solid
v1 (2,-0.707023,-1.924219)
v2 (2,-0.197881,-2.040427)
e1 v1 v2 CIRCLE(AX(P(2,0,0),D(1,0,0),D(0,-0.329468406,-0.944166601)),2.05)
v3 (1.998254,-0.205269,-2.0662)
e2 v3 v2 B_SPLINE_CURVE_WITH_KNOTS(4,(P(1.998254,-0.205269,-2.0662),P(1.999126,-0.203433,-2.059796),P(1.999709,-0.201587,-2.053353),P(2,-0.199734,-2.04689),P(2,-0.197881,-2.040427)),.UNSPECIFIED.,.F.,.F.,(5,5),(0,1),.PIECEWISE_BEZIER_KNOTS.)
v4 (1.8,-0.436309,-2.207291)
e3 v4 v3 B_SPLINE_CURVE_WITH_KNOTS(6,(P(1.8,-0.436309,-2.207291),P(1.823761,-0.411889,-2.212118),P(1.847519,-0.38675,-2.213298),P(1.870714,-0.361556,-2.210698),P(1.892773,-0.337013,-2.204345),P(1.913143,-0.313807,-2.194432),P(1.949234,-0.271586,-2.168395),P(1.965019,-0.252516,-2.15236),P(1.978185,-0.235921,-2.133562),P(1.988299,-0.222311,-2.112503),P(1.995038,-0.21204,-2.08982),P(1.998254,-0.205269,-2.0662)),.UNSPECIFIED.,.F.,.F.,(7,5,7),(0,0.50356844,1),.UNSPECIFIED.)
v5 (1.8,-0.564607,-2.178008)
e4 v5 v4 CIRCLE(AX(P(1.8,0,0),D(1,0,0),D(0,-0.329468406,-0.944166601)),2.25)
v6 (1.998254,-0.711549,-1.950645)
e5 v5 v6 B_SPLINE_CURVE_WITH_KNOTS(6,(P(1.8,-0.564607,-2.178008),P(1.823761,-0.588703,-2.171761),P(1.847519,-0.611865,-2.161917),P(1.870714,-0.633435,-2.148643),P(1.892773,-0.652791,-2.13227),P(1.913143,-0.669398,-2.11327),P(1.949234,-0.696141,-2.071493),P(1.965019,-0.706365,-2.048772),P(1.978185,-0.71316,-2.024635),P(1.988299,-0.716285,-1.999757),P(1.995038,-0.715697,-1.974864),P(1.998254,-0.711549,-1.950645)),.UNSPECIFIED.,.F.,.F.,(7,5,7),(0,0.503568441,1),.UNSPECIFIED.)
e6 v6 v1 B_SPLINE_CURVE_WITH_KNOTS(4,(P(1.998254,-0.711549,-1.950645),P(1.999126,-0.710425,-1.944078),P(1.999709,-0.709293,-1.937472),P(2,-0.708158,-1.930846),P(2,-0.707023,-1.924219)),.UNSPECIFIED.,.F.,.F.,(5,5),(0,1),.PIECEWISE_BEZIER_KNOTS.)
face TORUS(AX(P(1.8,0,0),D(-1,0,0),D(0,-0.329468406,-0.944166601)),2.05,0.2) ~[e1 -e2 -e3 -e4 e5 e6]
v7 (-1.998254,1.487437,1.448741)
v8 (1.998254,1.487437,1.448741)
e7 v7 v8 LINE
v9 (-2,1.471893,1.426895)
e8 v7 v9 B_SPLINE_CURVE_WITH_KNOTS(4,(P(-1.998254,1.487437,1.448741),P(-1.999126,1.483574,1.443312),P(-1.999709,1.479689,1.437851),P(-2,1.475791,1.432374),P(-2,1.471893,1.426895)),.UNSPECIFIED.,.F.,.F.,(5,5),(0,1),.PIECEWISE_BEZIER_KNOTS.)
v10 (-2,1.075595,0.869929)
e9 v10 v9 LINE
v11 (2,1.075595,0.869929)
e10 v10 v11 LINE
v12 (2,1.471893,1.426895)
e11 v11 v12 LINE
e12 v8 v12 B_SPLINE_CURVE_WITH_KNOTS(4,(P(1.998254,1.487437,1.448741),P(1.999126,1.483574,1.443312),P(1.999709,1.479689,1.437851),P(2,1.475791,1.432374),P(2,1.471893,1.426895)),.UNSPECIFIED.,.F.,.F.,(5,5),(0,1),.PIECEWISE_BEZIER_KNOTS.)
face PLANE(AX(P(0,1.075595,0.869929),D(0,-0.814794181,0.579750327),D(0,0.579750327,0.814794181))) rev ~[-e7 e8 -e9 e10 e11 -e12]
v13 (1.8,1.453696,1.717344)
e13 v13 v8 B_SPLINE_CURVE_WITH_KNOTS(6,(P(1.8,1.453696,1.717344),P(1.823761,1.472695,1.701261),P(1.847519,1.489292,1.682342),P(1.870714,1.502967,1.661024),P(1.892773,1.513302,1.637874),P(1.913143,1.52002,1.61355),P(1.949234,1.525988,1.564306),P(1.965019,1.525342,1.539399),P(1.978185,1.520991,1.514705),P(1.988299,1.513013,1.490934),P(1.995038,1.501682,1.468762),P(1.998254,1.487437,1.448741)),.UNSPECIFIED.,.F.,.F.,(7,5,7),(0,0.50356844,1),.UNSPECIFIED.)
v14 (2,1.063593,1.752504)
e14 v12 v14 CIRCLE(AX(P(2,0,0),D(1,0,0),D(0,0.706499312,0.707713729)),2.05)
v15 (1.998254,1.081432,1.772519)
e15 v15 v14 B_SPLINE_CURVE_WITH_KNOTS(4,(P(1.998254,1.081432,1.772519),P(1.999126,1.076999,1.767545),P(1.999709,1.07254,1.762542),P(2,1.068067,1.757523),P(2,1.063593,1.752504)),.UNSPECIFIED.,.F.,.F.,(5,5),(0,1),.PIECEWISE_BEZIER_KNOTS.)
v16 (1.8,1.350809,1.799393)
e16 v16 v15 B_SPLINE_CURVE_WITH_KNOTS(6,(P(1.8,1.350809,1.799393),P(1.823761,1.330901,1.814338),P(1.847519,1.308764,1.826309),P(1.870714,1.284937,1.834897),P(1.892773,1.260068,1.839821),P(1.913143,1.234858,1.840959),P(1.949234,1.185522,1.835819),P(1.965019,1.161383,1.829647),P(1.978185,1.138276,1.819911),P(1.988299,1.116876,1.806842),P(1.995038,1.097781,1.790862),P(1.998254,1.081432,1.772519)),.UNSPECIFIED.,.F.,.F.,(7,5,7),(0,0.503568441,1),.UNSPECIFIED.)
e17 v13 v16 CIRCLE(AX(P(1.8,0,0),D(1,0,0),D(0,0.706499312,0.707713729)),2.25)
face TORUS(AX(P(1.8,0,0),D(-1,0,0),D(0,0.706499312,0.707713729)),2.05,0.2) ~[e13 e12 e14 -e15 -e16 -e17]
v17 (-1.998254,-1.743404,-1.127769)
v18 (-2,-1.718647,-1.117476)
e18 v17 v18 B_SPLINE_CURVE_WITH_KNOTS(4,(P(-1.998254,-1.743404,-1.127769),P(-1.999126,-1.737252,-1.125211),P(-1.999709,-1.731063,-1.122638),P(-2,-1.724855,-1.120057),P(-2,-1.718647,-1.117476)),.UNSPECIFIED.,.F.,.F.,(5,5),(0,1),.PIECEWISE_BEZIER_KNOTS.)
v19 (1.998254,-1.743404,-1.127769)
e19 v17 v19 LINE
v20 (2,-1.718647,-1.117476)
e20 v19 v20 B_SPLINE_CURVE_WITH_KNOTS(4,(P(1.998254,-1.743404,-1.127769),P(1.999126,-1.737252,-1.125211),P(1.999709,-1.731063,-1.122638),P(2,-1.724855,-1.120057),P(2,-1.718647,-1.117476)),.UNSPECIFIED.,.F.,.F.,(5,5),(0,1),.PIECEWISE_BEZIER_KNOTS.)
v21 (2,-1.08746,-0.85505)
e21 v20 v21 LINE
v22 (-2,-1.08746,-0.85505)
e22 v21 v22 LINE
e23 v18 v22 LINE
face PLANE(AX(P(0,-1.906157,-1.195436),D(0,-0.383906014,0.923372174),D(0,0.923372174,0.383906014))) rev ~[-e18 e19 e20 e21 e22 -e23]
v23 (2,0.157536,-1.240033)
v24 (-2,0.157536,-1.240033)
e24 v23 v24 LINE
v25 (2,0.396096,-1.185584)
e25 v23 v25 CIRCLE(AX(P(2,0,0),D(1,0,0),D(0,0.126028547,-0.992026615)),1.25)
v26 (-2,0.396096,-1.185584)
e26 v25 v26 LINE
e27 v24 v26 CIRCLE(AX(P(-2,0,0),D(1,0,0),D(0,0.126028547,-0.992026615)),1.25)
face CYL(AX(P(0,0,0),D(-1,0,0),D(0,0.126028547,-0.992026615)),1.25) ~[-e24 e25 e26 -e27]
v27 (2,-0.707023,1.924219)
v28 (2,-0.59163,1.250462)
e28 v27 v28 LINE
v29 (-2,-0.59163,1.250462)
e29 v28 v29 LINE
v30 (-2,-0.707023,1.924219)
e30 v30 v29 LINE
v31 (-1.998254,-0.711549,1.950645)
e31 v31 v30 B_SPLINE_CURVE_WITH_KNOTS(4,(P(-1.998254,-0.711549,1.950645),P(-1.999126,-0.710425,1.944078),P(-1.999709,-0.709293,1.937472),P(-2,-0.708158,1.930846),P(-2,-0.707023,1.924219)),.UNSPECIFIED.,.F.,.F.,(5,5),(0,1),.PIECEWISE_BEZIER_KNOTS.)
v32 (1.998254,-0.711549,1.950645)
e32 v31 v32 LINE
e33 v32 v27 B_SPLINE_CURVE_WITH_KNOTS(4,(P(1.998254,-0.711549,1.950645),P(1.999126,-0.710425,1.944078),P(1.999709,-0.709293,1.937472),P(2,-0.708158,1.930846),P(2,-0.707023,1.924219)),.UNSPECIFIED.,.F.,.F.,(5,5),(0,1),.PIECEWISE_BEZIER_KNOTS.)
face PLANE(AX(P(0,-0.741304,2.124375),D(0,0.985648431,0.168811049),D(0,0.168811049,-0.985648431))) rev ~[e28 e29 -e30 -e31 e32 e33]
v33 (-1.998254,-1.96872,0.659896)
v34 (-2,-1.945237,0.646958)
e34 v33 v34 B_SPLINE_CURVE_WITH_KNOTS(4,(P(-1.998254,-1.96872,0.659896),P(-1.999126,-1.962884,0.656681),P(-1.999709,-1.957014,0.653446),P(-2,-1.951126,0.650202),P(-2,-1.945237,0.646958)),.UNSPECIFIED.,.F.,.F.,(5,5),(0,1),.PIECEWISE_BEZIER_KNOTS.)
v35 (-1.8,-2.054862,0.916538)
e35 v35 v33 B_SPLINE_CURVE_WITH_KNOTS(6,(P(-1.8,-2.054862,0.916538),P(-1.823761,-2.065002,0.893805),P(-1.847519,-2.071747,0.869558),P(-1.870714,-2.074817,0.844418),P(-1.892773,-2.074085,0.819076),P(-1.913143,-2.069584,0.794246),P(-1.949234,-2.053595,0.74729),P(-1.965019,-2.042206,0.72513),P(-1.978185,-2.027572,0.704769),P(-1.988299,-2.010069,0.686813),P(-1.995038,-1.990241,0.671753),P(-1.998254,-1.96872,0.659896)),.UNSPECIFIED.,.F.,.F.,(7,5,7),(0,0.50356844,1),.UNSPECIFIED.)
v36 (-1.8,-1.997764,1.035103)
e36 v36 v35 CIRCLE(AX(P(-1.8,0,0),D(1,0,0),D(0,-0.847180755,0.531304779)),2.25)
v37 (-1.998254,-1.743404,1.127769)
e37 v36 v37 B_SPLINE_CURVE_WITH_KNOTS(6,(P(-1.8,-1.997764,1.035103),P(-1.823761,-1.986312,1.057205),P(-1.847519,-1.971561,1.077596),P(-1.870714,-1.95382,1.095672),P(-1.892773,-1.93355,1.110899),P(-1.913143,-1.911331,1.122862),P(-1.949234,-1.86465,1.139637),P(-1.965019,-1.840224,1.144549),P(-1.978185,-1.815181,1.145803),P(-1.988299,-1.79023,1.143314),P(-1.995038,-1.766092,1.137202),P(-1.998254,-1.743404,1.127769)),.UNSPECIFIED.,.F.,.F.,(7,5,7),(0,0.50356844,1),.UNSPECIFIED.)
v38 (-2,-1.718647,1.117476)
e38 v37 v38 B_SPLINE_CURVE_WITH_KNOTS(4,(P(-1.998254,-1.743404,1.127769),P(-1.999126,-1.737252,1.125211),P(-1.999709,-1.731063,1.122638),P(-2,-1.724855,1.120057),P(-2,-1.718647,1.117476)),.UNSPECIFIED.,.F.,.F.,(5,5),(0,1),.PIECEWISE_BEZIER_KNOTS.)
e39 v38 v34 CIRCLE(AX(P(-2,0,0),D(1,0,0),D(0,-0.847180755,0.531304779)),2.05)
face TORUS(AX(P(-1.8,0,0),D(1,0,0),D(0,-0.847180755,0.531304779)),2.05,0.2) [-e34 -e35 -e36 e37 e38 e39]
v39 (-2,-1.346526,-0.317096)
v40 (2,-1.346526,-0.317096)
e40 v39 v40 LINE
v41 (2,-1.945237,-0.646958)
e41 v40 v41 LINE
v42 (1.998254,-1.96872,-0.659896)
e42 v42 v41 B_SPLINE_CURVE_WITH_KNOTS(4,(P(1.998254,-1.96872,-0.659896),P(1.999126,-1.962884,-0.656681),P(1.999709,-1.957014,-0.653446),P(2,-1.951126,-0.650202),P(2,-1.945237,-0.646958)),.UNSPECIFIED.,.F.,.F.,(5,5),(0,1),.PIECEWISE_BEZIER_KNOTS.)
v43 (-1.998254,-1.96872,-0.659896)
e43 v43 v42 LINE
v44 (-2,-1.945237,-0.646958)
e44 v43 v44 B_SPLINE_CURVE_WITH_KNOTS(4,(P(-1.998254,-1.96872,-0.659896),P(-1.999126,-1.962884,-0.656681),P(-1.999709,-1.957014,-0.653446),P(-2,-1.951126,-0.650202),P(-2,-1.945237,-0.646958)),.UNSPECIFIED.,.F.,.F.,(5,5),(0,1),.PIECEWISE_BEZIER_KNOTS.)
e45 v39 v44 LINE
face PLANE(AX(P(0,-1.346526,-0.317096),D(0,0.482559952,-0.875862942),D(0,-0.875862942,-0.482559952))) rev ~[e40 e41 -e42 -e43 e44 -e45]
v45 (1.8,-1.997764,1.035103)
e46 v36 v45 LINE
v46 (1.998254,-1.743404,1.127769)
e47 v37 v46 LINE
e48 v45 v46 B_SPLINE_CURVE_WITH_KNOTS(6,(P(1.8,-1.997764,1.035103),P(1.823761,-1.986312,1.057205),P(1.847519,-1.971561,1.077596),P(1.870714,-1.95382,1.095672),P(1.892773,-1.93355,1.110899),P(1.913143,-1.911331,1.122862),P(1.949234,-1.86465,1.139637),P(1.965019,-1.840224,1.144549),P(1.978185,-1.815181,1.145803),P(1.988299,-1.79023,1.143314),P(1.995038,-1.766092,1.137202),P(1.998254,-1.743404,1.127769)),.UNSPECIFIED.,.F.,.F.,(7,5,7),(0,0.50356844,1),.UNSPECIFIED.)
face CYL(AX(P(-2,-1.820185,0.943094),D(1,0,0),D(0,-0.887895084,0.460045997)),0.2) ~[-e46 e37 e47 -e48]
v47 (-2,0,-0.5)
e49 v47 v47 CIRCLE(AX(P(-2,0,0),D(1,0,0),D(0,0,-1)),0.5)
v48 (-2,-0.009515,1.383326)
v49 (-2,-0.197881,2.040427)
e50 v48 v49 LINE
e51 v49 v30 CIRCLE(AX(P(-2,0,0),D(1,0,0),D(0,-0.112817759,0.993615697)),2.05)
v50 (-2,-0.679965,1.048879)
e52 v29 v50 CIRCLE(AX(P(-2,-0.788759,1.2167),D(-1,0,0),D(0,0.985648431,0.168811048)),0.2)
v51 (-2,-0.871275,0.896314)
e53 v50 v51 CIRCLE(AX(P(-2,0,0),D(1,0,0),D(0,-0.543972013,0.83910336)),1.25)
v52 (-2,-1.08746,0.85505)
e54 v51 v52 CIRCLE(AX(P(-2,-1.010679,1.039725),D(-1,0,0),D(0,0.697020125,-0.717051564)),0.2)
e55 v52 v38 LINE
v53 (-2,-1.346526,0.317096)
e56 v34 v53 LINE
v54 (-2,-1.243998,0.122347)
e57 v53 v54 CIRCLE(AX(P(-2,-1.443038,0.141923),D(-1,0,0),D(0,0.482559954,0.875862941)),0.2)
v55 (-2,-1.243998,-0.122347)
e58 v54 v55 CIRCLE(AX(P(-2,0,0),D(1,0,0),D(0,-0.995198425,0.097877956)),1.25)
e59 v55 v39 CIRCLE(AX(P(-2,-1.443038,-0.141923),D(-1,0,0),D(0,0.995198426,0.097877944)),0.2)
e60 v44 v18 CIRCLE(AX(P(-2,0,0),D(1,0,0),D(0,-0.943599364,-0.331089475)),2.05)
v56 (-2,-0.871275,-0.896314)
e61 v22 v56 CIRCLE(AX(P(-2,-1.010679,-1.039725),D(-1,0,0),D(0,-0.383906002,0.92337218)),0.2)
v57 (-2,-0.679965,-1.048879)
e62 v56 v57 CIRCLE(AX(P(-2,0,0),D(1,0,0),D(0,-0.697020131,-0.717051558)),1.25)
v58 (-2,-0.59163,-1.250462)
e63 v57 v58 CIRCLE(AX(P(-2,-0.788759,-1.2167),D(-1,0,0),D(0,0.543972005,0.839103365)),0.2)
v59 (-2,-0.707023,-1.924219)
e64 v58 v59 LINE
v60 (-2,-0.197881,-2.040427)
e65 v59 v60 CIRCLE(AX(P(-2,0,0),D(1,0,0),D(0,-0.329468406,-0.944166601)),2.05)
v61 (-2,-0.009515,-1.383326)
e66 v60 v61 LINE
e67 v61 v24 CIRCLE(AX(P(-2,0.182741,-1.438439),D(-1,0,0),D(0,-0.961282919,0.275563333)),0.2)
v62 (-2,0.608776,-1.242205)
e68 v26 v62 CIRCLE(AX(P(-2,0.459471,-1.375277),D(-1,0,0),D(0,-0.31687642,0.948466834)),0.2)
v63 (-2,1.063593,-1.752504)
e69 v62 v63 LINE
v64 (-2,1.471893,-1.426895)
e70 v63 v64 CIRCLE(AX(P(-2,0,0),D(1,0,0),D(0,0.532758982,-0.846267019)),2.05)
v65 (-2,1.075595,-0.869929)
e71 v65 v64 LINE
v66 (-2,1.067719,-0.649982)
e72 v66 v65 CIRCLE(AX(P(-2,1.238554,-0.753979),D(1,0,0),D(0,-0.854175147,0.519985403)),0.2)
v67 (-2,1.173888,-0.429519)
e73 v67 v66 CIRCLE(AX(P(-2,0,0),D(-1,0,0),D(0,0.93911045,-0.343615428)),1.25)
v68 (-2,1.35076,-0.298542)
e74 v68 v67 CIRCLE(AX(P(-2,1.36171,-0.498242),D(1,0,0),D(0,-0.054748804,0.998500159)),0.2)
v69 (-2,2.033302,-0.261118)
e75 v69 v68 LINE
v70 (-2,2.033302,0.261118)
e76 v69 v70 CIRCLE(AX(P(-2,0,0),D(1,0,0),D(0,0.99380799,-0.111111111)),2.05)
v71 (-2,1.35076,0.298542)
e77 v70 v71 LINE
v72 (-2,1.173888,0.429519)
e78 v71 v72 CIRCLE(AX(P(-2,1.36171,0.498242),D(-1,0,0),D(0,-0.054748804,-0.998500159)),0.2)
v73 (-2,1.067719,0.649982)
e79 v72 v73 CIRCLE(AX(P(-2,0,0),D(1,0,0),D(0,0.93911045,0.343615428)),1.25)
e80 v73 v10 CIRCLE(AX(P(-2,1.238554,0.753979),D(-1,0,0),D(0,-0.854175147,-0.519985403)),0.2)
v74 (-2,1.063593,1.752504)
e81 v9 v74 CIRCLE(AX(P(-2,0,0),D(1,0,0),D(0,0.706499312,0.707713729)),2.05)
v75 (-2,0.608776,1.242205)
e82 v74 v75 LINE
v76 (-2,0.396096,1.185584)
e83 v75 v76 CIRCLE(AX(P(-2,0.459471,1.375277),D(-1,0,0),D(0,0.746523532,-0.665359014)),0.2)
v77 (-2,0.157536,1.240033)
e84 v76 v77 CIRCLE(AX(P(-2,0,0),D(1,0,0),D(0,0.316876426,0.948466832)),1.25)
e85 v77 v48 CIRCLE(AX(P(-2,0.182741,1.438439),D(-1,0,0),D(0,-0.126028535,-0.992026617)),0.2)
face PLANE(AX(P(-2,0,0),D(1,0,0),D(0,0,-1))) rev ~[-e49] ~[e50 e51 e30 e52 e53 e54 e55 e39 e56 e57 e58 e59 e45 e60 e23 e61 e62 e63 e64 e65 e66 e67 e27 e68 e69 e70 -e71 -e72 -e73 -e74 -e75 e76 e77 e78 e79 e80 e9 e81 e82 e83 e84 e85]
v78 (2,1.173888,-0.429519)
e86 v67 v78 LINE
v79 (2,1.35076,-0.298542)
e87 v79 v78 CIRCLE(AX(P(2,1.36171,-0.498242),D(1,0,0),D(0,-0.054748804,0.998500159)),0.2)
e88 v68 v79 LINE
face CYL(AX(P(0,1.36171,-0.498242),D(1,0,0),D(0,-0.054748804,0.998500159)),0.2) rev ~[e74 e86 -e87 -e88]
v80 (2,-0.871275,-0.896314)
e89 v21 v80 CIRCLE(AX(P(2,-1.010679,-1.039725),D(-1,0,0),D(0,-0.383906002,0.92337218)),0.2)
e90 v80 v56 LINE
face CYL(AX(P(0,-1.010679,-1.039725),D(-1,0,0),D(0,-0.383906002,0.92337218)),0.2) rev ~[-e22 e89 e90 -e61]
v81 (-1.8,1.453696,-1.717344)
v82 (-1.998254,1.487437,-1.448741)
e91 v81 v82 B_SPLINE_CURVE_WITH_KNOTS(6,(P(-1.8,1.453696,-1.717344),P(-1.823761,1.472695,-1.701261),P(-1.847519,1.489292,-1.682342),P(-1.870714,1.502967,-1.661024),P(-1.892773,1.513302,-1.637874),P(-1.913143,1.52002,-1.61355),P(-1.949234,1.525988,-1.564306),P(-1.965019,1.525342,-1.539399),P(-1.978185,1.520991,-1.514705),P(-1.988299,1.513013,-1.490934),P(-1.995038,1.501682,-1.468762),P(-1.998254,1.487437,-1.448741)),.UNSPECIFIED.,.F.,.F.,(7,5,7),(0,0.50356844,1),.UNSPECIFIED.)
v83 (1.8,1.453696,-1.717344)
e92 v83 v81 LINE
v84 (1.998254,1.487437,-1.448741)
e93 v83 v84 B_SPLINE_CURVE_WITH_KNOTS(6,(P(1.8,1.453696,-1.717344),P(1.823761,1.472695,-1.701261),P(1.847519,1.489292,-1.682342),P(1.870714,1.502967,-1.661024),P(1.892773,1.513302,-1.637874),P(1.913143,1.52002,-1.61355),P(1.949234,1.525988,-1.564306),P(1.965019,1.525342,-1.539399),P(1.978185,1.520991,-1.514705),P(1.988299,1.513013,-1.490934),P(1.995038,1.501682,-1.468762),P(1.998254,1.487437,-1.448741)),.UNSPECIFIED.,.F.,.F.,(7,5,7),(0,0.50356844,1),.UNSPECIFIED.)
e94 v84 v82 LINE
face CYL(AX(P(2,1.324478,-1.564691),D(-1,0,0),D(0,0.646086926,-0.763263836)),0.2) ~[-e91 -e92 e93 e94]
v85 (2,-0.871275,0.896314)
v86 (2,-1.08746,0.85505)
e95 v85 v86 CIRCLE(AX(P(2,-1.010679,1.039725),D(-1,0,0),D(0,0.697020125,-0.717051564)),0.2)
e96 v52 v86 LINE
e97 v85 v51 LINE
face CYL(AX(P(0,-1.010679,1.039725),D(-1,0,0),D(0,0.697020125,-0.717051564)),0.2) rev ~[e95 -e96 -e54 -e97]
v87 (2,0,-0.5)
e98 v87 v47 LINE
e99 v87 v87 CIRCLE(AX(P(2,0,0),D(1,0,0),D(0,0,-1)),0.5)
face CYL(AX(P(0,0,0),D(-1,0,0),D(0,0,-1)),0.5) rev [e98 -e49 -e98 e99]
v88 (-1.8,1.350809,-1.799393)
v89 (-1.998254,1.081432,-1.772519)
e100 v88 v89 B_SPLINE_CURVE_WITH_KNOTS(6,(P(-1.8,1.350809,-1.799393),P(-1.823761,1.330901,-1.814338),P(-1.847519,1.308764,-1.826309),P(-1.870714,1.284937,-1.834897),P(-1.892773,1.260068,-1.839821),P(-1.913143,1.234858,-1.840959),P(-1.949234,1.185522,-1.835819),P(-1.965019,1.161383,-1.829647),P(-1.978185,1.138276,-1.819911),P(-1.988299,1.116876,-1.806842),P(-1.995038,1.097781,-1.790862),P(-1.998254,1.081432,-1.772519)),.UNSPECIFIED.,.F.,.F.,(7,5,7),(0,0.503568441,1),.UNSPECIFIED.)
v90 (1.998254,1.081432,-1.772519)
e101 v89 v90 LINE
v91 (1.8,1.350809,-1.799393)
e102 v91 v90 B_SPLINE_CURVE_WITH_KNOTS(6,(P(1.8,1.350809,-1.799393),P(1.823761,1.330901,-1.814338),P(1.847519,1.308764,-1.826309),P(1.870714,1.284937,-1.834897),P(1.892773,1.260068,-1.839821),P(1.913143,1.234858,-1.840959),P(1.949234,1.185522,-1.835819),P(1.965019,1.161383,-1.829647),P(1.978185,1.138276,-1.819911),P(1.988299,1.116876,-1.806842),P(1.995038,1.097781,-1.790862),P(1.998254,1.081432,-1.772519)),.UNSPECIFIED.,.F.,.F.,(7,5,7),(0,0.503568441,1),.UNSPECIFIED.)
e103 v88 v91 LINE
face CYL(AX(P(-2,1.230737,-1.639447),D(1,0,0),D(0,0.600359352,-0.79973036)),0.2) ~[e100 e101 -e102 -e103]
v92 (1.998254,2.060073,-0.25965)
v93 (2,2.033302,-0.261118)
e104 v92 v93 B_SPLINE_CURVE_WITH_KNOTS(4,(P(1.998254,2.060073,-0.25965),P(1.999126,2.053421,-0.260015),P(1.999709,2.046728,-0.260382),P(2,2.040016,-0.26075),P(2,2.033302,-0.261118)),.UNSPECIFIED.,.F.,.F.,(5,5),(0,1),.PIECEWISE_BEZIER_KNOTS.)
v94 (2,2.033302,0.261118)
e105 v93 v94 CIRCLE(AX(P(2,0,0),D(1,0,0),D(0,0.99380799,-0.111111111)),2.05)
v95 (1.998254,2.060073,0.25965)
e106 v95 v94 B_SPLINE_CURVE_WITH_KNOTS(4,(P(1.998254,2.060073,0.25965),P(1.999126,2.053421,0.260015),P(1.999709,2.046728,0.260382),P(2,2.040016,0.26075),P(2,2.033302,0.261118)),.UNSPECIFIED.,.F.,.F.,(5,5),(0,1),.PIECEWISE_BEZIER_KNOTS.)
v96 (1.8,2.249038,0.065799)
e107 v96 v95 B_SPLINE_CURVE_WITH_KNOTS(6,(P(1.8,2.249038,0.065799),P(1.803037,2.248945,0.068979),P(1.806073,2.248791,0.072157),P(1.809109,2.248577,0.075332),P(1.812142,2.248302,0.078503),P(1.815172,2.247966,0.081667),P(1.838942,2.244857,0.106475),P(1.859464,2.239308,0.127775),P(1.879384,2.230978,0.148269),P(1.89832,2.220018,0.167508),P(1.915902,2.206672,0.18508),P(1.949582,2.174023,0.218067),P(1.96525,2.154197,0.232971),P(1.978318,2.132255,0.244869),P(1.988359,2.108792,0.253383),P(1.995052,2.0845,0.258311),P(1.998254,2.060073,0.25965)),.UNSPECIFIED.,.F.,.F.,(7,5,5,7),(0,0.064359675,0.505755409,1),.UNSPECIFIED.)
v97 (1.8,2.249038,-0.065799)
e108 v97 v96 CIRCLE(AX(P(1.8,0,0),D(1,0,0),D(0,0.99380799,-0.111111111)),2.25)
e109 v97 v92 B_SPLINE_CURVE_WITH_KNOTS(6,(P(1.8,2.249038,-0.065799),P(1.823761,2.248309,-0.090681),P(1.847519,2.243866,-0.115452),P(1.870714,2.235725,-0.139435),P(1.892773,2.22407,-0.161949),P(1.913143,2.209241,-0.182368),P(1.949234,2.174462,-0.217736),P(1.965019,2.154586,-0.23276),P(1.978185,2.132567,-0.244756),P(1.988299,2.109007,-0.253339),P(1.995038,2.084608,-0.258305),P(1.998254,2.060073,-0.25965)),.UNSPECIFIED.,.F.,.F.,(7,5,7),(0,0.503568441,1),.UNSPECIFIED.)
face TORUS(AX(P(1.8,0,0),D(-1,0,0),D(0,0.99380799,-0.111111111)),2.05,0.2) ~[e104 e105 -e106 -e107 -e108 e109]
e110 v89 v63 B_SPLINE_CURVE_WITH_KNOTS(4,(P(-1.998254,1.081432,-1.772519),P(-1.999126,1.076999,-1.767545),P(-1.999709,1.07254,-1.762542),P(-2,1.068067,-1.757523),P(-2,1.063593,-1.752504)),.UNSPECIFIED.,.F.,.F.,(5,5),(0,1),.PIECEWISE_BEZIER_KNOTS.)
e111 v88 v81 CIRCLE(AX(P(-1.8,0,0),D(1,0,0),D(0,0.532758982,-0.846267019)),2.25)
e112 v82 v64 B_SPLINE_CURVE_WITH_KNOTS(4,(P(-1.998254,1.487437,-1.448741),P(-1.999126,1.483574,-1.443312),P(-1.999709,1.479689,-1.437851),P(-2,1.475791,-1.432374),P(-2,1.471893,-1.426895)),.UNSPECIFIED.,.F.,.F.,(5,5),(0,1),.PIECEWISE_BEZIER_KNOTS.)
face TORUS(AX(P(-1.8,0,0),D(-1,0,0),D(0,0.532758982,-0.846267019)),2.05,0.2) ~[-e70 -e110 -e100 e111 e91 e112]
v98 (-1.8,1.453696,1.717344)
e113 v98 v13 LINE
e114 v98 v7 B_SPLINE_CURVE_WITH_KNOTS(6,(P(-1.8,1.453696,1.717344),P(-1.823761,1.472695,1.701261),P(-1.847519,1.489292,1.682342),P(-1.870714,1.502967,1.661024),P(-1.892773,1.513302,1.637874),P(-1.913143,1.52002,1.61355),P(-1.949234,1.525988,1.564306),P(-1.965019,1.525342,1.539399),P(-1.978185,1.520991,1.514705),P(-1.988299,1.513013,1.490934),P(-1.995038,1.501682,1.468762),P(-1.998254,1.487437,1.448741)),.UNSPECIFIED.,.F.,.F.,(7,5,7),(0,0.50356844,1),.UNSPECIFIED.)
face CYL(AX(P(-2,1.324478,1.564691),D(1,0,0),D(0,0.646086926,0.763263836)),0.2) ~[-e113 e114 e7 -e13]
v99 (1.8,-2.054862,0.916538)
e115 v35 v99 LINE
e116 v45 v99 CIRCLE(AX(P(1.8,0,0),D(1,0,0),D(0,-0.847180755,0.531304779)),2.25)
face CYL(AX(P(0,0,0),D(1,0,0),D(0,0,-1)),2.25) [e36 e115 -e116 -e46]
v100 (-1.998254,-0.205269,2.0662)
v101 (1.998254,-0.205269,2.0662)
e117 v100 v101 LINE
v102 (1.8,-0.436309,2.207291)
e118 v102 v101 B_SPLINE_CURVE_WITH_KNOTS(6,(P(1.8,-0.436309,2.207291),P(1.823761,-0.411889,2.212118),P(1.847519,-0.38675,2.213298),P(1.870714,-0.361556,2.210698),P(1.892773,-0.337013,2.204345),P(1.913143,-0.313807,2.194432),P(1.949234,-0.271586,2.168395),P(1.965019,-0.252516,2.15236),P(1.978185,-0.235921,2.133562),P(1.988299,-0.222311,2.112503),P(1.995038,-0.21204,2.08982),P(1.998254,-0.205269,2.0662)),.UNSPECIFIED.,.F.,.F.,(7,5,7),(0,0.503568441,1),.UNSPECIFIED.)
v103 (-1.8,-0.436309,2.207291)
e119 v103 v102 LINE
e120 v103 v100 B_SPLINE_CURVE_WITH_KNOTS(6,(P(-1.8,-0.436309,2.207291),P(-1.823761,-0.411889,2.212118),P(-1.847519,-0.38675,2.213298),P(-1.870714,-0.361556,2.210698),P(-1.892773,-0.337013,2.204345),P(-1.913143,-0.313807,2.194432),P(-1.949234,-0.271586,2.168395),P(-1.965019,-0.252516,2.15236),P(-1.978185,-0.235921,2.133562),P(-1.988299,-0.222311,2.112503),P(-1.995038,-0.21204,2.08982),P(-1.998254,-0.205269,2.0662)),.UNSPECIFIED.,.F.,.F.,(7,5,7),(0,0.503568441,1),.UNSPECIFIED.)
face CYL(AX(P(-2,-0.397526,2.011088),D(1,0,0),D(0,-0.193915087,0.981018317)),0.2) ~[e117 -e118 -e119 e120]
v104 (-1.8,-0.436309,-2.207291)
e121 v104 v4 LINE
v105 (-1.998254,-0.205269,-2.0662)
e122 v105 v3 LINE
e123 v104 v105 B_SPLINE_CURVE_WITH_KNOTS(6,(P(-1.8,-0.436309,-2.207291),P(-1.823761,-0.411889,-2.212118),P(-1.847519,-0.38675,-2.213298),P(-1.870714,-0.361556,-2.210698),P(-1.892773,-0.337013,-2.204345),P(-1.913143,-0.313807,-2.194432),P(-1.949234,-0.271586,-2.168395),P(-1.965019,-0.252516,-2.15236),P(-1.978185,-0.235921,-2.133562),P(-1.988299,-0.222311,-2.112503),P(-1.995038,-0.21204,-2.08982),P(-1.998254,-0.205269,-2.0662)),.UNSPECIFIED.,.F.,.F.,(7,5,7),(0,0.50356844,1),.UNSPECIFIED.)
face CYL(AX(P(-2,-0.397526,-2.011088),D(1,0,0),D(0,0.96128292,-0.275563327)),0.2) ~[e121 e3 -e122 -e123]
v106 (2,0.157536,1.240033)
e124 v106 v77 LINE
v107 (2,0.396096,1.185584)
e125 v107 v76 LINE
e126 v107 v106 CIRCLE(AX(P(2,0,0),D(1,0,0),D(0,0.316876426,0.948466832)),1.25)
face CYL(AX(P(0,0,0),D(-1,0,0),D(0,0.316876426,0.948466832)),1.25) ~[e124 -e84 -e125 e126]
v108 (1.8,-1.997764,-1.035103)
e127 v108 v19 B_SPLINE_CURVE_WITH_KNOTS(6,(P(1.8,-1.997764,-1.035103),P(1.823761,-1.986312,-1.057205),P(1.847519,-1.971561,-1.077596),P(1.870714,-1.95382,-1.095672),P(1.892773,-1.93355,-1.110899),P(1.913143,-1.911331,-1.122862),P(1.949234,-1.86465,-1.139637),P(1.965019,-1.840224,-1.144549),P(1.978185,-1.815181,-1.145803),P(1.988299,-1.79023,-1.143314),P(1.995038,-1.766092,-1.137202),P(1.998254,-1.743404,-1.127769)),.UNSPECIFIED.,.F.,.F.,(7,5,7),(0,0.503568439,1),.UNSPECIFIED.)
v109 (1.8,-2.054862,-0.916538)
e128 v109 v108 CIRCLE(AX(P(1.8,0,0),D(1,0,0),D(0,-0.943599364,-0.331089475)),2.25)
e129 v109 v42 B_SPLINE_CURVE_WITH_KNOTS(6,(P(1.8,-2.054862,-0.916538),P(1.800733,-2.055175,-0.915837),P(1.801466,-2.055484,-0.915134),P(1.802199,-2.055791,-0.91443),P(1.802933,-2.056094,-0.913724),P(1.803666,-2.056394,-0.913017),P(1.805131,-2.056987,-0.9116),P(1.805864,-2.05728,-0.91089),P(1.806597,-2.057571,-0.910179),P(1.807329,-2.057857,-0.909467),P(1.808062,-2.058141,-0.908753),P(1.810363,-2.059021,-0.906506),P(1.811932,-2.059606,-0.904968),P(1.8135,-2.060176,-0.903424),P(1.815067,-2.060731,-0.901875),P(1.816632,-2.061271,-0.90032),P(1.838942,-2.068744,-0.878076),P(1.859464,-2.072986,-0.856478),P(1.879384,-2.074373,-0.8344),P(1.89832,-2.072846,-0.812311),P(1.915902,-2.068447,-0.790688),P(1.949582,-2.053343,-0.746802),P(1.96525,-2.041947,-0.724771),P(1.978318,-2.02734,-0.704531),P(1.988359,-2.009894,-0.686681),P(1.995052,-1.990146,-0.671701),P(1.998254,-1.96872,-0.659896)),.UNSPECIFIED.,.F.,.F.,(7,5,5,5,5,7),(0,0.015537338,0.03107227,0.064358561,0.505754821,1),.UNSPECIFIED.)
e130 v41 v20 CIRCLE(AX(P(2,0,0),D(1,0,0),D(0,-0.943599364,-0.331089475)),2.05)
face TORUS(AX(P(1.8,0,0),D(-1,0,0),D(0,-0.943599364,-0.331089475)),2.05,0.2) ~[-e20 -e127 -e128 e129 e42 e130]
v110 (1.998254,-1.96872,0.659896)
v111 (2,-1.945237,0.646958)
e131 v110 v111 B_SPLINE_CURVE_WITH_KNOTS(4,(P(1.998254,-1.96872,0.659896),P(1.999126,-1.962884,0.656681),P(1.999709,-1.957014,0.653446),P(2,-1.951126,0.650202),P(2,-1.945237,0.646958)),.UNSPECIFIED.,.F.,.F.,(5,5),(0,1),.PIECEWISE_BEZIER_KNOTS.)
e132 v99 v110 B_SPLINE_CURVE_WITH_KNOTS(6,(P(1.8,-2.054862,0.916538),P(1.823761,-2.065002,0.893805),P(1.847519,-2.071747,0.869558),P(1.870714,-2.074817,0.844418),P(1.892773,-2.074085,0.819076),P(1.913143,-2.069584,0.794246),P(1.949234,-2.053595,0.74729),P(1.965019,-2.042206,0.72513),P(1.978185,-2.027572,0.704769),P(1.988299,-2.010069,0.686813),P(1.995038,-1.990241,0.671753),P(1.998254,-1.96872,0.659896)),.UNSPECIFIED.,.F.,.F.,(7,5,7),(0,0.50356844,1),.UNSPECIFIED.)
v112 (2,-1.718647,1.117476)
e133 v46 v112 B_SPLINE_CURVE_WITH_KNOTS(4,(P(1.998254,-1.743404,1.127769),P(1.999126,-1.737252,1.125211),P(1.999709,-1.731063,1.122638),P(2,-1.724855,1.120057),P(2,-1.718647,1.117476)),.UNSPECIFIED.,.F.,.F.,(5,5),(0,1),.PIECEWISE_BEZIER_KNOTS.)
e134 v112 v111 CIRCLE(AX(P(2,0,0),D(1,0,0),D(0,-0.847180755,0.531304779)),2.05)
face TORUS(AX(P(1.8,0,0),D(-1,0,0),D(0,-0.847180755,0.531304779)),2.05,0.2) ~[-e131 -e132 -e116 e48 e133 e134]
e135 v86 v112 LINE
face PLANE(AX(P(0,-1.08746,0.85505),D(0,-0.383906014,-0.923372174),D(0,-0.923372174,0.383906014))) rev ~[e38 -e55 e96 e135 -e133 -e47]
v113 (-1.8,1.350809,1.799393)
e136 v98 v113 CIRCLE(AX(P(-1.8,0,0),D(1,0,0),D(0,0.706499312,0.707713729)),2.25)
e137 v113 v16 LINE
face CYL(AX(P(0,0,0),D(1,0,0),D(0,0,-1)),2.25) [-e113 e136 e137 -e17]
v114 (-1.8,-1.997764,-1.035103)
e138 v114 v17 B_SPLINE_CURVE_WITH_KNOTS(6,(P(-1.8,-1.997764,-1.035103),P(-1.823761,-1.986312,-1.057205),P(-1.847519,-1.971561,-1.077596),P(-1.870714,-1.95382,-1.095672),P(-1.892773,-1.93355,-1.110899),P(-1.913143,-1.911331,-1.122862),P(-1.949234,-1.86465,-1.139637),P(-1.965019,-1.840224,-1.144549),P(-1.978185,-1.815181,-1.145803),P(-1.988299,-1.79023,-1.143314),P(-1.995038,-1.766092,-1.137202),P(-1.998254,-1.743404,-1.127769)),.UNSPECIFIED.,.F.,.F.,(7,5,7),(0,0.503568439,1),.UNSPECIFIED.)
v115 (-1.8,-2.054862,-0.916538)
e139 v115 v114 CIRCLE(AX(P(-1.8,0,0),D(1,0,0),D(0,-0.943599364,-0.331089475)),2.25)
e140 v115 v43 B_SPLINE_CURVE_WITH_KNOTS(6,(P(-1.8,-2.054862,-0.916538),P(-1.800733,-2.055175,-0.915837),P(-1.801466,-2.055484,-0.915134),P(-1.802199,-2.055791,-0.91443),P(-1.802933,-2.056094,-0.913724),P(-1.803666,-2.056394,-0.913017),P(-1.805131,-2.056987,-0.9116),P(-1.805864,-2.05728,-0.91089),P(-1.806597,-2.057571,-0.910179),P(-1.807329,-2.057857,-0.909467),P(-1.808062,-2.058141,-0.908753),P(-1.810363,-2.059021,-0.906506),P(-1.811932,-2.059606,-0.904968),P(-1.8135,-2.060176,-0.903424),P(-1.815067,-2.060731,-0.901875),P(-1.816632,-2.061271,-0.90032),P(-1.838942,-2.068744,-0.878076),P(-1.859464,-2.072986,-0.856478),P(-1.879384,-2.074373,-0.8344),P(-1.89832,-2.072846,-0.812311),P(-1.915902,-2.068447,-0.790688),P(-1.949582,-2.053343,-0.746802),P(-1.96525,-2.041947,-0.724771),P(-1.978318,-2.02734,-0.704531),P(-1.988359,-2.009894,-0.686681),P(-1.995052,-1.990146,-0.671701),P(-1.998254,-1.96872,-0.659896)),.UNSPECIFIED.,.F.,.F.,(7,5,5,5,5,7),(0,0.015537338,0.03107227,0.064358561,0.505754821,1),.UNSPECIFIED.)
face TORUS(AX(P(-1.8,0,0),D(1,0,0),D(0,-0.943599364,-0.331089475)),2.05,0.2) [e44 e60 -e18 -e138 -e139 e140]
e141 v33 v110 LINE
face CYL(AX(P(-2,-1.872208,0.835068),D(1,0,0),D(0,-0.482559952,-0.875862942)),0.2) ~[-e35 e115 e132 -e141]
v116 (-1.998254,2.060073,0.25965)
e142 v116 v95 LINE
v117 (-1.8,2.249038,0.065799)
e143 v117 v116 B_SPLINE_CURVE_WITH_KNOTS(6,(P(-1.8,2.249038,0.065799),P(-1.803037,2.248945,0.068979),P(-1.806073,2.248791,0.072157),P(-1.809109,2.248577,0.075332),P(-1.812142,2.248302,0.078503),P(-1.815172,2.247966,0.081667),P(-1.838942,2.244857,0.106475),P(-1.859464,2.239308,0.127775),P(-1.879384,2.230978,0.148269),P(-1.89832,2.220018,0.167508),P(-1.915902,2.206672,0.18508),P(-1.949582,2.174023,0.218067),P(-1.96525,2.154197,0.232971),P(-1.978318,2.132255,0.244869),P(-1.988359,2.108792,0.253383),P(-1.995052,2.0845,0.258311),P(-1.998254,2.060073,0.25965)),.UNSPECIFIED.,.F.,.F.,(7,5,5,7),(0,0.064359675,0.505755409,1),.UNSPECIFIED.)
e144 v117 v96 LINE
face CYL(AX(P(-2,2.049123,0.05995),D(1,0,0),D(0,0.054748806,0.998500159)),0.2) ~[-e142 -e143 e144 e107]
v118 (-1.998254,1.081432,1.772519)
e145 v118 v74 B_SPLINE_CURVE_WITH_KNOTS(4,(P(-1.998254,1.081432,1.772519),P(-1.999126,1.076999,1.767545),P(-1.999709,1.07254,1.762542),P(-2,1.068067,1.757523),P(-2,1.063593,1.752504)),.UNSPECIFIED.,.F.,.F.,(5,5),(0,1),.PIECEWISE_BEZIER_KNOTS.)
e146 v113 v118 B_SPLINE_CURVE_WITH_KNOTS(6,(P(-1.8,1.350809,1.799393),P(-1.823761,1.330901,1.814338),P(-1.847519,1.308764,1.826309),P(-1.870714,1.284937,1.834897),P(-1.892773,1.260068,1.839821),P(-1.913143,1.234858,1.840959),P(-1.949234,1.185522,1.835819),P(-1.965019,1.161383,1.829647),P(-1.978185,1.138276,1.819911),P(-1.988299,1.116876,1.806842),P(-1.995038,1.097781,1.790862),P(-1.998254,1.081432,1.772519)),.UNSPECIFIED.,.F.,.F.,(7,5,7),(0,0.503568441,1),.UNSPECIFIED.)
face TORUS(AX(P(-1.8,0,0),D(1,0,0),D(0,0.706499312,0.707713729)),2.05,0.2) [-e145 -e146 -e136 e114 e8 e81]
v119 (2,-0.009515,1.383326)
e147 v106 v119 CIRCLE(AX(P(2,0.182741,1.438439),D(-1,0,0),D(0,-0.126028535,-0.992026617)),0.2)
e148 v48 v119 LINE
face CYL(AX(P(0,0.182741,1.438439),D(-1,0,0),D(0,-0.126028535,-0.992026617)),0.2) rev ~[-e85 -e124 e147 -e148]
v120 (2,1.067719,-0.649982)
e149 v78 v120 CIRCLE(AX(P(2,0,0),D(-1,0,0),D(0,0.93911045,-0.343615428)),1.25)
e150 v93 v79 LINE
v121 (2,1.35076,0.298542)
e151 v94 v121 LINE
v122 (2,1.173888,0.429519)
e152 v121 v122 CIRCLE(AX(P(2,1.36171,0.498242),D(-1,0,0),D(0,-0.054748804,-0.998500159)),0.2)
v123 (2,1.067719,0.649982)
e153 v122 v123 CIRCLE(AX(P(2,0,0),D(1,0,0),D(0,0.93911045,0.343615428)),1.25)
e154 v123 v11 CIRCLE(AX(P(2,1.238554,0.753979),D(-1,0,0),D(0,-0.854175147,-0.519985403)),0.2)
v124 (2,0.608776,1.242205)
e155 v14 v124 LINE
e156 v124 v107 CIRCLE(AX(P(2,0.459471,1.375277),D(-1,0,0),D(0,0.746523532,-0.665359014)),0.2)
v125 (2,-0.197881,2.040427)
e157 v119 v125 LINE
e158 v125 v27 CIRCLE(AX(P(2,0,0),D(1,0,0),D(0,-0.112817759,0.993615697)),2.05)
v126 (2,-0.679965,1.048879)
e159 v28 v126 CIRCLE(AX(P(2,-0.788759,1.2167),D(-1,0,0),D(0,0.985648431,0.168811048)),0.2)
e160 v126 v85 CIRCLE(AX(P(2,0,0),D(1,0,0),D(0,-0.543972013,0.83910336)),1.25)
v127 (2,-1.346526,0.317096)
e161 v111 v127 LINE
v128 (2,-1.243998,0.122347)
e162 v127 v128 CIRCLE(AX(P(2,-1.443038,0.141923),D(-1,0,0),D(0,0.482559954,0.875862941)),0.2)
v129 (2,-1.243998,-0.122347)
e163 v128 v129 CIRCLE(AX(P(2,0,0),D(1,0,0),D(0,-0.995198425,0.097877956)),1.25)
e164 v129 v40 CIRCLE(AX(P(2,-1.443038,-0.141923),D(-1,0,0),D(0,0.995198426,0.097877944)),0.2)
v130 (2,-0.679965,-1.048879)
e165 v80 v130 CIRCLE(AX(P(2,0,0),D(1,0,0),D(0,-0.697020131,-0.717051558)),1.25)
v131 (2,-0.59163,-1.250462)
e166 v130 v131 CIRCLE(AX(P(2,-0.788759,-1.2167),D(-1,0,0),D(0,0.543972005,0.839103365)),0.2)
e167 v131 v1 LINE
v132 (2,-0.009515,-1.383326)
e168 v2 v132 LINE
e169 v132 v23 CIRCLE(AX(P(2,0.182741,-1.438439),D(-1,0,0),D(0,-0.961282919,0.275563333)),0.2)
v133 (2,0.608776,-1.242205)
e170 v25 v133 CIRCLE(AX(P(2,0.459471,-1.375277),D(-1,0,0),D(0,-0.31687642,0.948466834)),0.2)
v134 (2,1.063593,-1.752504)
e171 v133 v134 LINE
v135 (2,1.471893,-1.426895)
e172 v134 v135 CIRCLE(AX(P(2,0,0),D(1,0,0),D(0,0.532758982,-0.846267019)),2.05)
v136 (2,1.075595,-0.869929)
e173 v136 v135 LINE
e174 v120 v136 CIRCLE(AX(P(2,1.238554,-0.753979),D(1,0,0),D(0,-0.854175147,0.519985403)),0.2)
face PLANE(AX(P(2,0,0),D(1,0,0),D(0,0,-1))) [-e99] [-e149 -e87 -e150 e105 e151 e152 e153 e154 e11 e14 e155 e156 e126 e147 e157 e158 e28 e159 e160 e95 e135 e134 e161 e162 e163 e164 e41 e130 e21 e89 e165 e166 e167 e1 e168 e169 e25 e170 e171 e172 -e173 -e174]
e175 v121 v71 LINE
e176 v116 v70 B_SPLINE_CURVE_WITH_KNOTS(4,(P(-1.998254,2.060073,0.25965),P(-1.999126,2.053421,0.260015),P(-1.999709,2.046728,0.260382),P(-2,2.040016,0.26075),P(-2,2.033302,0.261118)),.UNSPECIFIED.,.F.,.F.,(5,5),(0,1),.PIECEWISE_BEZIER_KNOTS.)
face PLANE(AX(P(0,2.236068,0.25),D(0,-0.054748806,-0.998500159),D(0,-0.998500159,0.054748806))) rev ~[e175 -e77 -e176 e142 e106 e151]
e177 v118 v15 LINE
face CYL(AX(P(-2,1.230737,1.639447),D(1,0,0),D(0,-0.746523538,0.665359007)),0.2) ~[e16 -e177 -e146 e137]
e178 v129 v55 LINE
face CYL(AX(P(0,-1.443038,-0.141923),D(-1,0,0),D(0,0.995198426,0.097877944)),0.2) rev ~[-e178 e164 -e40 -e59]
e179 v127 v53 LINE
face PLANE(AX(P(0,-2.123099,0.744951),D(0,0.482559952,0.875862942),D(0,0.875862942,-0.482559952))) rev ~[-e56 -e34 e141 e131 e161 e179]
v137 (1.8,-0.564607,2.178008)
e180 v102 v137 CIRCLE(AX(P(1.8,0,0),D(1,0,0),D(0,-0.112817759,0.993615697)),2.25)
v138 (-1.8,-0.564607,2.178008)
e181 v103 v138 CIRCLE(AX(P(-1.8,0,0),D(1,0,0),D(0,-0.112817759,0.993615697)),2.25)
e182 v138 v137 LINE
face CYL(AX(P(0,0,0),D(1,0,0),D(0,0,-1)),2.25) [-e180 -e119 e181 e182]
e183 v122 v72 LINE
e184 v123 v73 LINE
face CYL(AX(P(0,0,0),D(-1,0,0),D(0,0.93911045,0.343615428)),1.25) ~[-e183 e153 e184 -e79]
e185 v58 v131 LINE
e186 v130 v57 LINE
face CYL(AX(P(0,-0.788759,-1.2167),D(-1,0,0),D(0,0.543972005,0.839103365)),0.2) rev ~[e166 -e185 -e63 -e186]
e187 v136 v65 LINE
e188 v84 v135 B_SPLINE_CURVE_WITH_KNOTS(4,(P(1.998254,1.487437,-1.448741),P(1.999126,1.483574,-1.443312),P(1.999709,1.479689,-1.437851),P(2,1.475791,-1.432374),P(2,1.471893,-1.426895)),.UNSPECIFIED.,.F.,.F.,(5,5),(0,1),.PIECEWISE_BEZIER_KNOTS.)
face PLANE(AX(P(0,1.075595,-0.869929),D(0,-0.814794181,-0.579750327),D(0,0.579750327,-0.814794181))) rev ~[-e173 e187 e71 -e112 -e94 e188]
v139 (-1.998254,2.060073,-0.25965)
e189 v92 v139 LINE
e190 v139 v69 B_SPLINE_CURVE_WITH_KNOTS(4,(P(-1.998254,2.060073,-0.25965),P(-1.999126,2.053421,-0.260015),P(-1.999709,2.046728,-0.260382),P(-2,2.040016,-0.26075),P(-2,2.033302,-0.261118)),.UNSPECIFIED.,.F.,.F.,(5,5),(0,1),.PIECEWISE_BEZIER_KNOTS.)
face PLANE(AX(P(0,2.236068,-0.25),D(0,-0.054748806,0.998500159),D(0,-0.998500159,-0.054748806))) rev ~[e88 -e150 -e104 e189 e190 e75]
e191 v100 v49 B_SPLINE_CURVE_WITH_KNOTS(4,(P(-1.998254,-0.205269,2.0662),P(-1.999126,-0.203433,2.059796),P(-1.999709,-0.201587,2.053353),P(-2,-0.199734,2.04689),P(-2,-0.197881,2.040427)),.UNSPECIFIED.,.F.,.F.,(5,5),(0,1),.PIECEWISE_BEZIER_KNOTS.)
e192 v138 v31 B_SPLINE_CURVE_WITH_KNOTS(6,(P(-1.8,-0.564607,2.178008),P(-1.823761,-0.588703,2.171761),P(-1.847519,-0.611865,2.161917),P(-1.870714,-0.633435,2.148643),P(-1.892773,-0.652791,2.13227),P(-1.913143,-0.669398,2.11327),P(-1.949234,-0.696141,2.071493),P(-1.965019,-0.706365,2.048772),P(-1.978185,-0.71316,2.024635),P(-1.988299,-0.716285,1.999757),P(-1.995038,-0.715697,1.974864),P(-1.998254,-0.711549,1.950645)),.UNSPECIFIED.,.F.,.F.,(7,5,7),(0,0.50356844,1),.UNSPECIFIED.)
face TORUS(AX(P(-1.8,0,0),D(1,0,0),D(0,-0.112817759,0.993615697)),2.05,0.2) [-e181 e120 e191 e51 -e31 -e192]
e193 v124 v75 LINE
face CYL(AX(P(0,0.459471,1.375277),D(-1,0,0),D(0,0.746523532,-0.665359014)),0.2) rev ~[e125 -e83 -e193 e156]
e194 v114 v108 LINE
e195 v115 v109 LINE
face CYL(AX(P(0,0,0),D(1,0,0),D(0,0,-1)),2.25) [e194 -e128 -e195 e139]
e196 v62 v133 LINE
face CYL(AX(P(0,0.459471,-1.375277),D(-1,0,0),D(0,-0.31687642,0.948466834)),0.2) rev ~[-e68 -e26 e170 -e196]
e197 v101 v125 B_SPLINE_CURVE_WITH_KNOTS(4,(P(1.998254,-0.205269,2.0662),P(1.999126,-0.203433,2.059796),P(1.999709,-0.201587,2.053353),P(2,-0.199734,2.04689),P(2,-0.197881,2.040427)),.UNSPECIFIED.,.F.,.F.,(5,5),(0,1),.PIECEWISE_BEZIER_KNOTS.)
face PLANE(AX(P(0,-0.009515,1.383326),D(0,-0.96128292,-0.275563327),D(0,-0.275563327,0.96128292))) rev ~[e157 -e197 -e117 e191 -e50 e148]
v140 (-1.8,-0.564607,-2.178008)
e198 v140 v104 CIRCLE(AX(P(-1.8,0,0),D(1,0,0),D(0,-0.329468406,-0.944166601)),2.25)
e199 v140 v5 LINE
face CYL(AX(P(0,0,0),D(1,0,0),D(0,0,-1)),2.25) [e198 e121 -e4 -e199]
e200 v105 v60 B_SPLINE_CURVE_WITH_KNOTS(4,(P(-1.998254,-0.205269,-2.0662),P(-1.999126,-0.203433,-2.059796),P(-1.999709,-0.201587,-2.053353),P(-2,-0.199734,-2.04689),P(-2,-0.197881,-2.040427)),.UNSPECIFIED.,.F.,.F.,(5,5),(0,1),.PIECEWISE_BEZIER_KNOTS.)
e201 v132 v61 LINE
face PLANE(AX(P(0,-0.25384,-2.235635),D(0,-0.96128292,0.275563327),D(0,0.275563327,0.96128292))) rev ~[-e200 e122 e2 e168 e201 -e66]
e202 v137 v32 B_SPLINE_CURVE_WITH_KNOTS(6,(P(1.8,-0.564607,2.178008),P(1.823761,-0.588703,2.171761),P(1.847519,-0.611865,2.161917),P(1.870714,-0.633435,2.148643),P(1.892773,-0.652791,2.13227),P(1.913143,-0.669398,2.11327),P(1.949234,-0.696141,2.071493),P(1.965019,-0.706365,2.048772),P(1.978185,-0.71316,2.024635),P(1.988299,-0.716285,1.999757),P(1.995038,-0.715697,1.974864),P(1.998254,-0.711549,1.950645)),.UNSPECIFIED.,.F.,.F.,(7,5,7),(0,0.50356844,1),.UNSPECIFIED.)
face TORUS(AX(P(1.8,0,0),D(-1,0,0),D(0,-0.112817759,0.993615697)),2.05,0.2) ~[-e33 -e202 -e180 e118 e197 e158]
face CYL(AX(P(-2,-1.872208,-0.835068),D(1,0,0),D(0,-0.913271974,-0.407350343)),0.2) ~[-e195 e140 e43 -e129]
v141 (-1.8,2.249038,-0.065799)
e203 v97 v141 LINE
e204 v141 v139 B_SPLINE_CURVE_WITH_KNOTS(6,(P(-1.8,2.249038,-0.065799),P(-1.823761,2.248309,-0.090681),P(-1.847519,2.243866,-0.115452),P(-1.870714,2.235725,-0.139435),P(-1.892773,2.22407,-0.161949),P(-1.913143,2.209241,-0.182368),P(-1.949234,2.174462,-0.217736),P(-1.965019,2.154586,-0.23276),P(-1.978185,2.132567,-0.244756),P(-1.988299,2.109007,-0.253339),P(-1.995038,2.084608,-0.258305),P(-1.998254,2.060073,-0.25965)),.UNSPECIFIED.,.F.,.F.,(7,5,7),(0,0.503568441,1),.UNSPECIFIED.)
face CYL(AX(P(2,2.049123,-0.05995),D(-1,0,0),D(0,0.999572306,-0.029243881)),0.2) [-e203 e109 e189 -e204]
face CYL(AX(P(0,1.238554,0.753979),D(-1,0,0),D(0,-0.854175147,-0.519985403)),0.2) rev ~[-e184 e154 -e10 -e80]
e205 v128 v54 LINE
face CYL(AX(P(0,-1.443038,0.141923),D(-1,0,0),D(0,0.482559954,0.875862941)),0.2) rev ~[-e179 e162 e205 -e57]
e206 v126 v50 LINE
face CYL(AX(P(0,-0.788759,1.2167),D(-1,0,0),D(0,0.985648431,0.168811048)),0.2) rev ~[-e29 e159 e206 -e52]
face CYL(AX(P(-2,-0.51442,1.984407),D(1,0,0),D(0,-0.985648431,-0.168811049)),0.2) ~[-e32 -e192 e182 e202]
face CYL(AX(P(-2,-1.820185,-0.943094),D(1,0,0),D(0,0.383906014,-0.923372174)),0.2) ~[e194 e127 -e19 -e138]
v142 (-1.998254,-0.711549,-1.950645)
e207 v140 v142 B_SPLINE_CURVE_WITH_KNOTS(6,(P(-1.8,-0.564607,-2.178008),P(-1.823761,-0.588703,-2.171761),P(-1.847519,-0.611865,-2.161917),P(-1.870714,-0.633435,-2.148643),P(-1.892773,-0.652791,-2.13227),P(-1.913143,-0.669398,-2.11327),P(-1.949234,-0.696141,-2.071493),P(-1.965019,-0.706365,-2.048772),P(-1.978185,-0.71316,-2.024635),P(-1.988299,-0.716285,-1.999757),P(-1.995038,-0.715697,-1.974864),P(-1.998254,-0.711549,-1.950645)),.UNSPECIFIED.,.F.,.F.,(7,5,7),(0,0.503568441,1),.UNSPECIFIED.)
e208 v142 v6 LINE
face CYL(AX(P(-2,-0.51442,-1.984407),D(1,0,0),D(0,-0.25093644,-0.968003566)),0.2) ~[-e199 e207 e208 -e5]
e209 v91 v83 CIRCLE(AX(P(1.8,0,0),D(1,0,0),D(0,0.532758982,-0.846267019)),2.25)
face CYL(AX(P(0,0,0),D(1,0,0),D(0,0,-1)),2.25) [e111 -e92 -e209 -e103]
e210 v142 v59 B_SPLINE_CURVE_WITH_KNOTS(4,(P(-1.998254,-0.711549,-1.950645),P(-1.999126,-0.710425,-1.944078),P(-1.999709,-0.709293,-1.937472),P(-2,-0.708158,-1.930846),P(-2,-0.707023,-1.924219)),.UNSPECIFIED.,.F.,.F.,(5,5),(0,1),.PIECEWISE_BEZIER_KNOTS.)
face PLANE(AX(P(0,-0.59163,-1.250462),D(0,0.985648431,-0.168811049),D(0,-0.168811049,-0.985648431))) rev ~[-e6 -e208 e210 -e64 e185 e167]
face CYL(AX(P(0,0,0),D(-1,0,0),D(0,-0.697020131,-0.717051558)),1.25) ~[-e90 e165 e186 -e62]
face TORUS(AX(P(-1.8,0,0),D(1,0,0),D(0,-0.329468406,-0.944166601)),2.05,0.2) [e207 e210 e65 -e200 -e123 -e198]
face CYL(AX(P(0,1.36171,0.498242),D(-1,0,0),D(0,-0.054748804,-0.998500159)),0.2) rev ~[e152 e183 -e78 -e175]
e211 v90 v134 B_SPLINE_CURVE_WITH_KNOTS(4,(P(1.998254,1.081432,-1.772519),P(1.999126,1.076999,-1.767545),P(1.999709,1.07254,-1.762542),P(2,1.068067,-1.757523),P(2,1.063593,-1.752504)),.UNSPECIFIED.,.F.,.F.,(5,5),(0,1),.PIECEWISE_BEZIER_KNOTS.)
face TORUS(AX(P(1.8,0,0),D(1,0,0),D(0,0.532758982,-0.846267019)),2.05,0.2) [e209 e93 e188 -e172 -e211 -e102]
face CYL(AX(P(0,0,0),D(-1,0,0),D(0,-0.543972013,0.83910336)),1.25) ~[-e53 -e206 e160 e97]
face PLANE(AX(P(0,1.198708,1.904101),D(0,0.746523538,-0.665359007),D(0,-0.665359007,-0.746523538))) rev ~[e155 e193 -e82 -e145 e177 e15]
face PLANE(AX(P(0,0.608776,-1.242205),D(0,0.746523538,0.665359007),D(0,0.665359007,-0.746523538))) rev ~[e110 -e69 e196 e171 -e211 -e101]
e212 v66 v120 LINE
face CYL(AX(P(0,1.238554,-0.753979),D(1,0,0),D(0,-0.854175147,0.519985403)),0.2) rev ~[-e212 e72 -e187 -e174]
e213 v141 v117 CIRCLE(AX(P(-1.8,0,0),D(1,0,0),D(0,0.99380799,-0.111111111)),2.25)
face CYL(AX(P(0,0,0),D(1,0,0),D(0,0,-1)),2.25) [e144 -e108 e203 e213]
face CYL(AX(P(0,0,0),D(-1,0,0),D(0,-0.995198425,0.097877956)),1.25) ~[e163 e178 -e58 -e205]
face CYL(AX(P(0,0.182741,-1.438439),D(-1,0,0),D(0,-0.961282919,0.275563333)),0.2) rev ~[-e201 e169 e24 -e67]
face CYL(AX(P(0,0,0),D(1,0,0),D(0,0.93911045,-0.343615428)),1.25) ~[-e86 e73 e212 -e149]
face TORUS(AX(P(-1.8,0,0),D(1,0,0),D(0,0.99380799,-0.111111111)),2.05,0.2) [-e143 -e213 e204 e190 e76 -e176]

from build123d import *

# Parameters (mm, degrees)
SKETCH3_R           = 2.25
SKETCH3_R_2         = 0.5
BOSS_EXTRUDE1_DEPTH = 2
CUT_EXTRUDE2_DEPTH  = 2
FILLET1_R           = 0.2


with BuildPart() as part:
    # Sketch3 → Boss-Extrude1 (new body, symmetric)
    with BuildSketch(Plane(origin=(0, 0, 0), x_dir=(0, 0, -1), z_dir=(1, 0, 0))):
        Circle(SKETCH3_R)
        Circle(SKETCH3_R_2, mode=Mode.SUBTRACT)
    extrude(amount=BOSS_EXTRUDE1_DEPTH, both=True)

    # Sketch4 → Cut-Extrude2 (cut, symmetric)
    with BuildSketch(Plane(origin=(0, 0, 0), x_dir=(0, 0, -1), z_dir=(1, 0, 0))):
        with BuildLine():
            Line((2.235635318, -0.253839957), (1.383325928, -0.009515205))
            ThreePointArc((1.383325928, -0.009515205), (1.286634966, 0.052527484), (1.240033271, 0.157535672))
            ThreePointArc((1.240033271, 0.157535672), (1.21865989, 0.278151167), (1.185583538, 0.396095536))
            ThreePointArc((1.185583538, 0.396095536), (1.18200887, 0.510924362), (1.242205103, 0.60877553))
            Line((1.242205103, 0.60877553), (1.904100792, 1.19870771))
            ThreePointArc((1.904100792, 1.19870771), (2.193587802, 0.500672101), (2.235635318, -0.253839957))
        make_face()
        with BuildLine():
            Line((1.195435752, -1.906156699), (0.855050322, -1.087460395))
            ThreePointArc((0.855050322, -1.087460395), (0.843271421, -0.973181372), (0.896314446, -0.871275165))
            ThreePointArc((0.896314446, -0.871275165), (0.977289353, -0.779362252), (1.048879206, -0.679965008))
            ThreePointArc((1.048879206, -0.679965008), (1.136427227, -0.605575618), (1.250462088, -0.591629723))
            Line((1.250462088, -0.591629723), (2.124374851, -0.741303913))
            ThreePointArc((2.124374851, -0.741303913), (1.759120836, -1.402852054), (1.195435752, -1.906156699))
        make_face()
        with BuildLine():
            Line((-0.744951318, -2.123098569), (-0.317095616, -1.346525727))
            ThreePointArc((-0.317095616, -1.346525727), (-0.235092704, -1.266064806), (-0.122347438, -1.243998032))
            ThreePointArc((-0.122347438, -1.243998032), (0, -1.25), (0.122347438, -1.243998032))
            ThreePointArc((0.122347438, -1.243998032), (0.235092704, -1.266064806), (0.317095616, -1.346525727))
            Line((0.317095616, -1.346525727), (0.744951318, -2.123098569))
            ThreePointArc((0.744951318, -2.123098569), (0, -2.25), (-0.744951318, -2.123098569))
        make_face()
        with BuildLine():
            Line((-2.124374851, -0.741303913), (-1.250462088, -0.591629723))
            ThreePointArc((-1.250462088, -0.591629723), (-1.136427227, -0.605575618), (-1.048879206, -0.679965008))
            ThreePointArc((-1.048879206, -0.679965008), (-0.977289353, -0.779362252), (-0.896314446, -0.871275165))
            ThreePointArc((-0.896314446, -0.871275165), (-0.843271421, -0.973181372), (-0.855050322, -1.087460395))
            Line((-0.855050322, -1.087460395), (-1.195435752, -1.906156699))
            ThreePointArc((-1.195435752, -1.906156699), (-1.759120836, -1.402852054), (-2.124374851, -0.741303913))
        make_face()
        with BuildLine():
            Line((-1.904100792, 1.19870771), (-1.242205103, 0.60877553))
            ThreePointArc((-1.242205103, 0.60877553), (-1.18200887, 0.510924362), (-1.185583538, 0.396095536))
            ThreePointArc((-1.185583538, 0.396095536), (-1.21865989, 0.278151167), (-1.240033271, 0.157535672))
            ThreePointArc((-1.240033271, 0.157535672), (-1.286634966, 0.052527484), (-1.383325928, -0.009515205))
            Line((-1.383325928, -0.009515205), (-2.235635318, -0.253839957))
            ThreePointArc((-2.235635318, -0.253839957), (-2.193587802, 0.500672101), (-1.904100792, 1.19870771))
        make_face()
        with BuildLine():
            Line((-0.25, 2.236067977), (-0.298542339, 1.350760392))
            ThreePointArc((-0.298542339, 1.350760392), (-0.337513725, 1.242687876), (-0.429519285, 1.173888063))
            ThreePointArc((-0.429519285, 1.173888063), (-0.542354674, 1.126211085), (-0.64998175, 1.067718935))
            ThreePointArc((-0.64998175, 1.067718935), (-0.761136139, 1.038682073), (-0.869928896, 1.075595128))
            Line((-0.869928896, 1.075595128), (-1.592355891, 1.589623451))
            ThreePointArc((-1.592355891, 1.589623451), (-0.976238413, 2.027179953), (-0.25, 2.236067977))
        make_face()
        with BuildLine():
            Line((0.25, 2.236067977), (0.298542339, 1.350760392))
            ThreePointArc((0.298542339, 1.350760392), (0.337513725, 1.242687876), (0.429519285, 1.173888063))
            ThreePointArc((0.429519285, 1.173888063), (0.542354674, 1.126211085), (0.64998175, 1.067718935))
            ThreePointArc((0.64998175, 1.067718935), (0.761136139, 1.038682073), (0.869928896, 1.075595128))
            Line((0.869928896, 1.075595128), (1.592355891, 1.589623451))
            ThreePointArc((1.592355891, 1.589623451), (0.976238413, 2.027179953), (0.25, 2.236067977))
        make_face()
    extrude(amount=CUT_EXTRUDE2_DEPTH, both=True, mode=Mode.SUBTRACT)

    # Fillet1
    fillet1_edges = [part.edges().sort_by_distance(p)[0] for p in [
        (2, 2.25, 0),
        (2, 1.402852054, 1.759120836),
        (0, 2.236067977, -0.25),
        (0, 1.589623451, -1.592355891),
        (2, -0.500672101, 2.193587802),
        (2, -2.027179953, 0.976238413),
        (2, -2.027179953, -0.976238413),
        (2, -0.500672101, -2.193587802),
        (-2, 2.25, 0),
        (-2, 1.402852054, 1.759120836),
        (-2, -0.500672101, 2.193587802),
        (-2, -2.027179953, 0.976238413),
        (-2, -2.027179953, -0.976238413),
        (-2, -0.500672101, -2.193587802),
        (-2, 1.402852054, -1.759120836),
        (2, 1.402852054, -1.759120836),
        (0, 1.19870771, -1.904100792),
        (0, -0.253839957, -2.235635318),
        (0, -0.741303913, -2.124374851),
        (0, -1.906156699, -1.195435752),
        (0, -2.123098569, -0.744951318),
        (0, -2.123098569, 0.744951318),
        (0, -1.906156699, 1.195435752),
        (0, -0.741303913, 2.124374851),
        (0, 1.589623451, 1.592355891),
        (0, 2.236067977, 0.25),
        (0, -0.253839957, 2.235635318),
        (0, 1.19870771, 1.904100792),
    ]]
    fillet(fillet1_edges, radius=FILLET1_R)


solid = part.part
